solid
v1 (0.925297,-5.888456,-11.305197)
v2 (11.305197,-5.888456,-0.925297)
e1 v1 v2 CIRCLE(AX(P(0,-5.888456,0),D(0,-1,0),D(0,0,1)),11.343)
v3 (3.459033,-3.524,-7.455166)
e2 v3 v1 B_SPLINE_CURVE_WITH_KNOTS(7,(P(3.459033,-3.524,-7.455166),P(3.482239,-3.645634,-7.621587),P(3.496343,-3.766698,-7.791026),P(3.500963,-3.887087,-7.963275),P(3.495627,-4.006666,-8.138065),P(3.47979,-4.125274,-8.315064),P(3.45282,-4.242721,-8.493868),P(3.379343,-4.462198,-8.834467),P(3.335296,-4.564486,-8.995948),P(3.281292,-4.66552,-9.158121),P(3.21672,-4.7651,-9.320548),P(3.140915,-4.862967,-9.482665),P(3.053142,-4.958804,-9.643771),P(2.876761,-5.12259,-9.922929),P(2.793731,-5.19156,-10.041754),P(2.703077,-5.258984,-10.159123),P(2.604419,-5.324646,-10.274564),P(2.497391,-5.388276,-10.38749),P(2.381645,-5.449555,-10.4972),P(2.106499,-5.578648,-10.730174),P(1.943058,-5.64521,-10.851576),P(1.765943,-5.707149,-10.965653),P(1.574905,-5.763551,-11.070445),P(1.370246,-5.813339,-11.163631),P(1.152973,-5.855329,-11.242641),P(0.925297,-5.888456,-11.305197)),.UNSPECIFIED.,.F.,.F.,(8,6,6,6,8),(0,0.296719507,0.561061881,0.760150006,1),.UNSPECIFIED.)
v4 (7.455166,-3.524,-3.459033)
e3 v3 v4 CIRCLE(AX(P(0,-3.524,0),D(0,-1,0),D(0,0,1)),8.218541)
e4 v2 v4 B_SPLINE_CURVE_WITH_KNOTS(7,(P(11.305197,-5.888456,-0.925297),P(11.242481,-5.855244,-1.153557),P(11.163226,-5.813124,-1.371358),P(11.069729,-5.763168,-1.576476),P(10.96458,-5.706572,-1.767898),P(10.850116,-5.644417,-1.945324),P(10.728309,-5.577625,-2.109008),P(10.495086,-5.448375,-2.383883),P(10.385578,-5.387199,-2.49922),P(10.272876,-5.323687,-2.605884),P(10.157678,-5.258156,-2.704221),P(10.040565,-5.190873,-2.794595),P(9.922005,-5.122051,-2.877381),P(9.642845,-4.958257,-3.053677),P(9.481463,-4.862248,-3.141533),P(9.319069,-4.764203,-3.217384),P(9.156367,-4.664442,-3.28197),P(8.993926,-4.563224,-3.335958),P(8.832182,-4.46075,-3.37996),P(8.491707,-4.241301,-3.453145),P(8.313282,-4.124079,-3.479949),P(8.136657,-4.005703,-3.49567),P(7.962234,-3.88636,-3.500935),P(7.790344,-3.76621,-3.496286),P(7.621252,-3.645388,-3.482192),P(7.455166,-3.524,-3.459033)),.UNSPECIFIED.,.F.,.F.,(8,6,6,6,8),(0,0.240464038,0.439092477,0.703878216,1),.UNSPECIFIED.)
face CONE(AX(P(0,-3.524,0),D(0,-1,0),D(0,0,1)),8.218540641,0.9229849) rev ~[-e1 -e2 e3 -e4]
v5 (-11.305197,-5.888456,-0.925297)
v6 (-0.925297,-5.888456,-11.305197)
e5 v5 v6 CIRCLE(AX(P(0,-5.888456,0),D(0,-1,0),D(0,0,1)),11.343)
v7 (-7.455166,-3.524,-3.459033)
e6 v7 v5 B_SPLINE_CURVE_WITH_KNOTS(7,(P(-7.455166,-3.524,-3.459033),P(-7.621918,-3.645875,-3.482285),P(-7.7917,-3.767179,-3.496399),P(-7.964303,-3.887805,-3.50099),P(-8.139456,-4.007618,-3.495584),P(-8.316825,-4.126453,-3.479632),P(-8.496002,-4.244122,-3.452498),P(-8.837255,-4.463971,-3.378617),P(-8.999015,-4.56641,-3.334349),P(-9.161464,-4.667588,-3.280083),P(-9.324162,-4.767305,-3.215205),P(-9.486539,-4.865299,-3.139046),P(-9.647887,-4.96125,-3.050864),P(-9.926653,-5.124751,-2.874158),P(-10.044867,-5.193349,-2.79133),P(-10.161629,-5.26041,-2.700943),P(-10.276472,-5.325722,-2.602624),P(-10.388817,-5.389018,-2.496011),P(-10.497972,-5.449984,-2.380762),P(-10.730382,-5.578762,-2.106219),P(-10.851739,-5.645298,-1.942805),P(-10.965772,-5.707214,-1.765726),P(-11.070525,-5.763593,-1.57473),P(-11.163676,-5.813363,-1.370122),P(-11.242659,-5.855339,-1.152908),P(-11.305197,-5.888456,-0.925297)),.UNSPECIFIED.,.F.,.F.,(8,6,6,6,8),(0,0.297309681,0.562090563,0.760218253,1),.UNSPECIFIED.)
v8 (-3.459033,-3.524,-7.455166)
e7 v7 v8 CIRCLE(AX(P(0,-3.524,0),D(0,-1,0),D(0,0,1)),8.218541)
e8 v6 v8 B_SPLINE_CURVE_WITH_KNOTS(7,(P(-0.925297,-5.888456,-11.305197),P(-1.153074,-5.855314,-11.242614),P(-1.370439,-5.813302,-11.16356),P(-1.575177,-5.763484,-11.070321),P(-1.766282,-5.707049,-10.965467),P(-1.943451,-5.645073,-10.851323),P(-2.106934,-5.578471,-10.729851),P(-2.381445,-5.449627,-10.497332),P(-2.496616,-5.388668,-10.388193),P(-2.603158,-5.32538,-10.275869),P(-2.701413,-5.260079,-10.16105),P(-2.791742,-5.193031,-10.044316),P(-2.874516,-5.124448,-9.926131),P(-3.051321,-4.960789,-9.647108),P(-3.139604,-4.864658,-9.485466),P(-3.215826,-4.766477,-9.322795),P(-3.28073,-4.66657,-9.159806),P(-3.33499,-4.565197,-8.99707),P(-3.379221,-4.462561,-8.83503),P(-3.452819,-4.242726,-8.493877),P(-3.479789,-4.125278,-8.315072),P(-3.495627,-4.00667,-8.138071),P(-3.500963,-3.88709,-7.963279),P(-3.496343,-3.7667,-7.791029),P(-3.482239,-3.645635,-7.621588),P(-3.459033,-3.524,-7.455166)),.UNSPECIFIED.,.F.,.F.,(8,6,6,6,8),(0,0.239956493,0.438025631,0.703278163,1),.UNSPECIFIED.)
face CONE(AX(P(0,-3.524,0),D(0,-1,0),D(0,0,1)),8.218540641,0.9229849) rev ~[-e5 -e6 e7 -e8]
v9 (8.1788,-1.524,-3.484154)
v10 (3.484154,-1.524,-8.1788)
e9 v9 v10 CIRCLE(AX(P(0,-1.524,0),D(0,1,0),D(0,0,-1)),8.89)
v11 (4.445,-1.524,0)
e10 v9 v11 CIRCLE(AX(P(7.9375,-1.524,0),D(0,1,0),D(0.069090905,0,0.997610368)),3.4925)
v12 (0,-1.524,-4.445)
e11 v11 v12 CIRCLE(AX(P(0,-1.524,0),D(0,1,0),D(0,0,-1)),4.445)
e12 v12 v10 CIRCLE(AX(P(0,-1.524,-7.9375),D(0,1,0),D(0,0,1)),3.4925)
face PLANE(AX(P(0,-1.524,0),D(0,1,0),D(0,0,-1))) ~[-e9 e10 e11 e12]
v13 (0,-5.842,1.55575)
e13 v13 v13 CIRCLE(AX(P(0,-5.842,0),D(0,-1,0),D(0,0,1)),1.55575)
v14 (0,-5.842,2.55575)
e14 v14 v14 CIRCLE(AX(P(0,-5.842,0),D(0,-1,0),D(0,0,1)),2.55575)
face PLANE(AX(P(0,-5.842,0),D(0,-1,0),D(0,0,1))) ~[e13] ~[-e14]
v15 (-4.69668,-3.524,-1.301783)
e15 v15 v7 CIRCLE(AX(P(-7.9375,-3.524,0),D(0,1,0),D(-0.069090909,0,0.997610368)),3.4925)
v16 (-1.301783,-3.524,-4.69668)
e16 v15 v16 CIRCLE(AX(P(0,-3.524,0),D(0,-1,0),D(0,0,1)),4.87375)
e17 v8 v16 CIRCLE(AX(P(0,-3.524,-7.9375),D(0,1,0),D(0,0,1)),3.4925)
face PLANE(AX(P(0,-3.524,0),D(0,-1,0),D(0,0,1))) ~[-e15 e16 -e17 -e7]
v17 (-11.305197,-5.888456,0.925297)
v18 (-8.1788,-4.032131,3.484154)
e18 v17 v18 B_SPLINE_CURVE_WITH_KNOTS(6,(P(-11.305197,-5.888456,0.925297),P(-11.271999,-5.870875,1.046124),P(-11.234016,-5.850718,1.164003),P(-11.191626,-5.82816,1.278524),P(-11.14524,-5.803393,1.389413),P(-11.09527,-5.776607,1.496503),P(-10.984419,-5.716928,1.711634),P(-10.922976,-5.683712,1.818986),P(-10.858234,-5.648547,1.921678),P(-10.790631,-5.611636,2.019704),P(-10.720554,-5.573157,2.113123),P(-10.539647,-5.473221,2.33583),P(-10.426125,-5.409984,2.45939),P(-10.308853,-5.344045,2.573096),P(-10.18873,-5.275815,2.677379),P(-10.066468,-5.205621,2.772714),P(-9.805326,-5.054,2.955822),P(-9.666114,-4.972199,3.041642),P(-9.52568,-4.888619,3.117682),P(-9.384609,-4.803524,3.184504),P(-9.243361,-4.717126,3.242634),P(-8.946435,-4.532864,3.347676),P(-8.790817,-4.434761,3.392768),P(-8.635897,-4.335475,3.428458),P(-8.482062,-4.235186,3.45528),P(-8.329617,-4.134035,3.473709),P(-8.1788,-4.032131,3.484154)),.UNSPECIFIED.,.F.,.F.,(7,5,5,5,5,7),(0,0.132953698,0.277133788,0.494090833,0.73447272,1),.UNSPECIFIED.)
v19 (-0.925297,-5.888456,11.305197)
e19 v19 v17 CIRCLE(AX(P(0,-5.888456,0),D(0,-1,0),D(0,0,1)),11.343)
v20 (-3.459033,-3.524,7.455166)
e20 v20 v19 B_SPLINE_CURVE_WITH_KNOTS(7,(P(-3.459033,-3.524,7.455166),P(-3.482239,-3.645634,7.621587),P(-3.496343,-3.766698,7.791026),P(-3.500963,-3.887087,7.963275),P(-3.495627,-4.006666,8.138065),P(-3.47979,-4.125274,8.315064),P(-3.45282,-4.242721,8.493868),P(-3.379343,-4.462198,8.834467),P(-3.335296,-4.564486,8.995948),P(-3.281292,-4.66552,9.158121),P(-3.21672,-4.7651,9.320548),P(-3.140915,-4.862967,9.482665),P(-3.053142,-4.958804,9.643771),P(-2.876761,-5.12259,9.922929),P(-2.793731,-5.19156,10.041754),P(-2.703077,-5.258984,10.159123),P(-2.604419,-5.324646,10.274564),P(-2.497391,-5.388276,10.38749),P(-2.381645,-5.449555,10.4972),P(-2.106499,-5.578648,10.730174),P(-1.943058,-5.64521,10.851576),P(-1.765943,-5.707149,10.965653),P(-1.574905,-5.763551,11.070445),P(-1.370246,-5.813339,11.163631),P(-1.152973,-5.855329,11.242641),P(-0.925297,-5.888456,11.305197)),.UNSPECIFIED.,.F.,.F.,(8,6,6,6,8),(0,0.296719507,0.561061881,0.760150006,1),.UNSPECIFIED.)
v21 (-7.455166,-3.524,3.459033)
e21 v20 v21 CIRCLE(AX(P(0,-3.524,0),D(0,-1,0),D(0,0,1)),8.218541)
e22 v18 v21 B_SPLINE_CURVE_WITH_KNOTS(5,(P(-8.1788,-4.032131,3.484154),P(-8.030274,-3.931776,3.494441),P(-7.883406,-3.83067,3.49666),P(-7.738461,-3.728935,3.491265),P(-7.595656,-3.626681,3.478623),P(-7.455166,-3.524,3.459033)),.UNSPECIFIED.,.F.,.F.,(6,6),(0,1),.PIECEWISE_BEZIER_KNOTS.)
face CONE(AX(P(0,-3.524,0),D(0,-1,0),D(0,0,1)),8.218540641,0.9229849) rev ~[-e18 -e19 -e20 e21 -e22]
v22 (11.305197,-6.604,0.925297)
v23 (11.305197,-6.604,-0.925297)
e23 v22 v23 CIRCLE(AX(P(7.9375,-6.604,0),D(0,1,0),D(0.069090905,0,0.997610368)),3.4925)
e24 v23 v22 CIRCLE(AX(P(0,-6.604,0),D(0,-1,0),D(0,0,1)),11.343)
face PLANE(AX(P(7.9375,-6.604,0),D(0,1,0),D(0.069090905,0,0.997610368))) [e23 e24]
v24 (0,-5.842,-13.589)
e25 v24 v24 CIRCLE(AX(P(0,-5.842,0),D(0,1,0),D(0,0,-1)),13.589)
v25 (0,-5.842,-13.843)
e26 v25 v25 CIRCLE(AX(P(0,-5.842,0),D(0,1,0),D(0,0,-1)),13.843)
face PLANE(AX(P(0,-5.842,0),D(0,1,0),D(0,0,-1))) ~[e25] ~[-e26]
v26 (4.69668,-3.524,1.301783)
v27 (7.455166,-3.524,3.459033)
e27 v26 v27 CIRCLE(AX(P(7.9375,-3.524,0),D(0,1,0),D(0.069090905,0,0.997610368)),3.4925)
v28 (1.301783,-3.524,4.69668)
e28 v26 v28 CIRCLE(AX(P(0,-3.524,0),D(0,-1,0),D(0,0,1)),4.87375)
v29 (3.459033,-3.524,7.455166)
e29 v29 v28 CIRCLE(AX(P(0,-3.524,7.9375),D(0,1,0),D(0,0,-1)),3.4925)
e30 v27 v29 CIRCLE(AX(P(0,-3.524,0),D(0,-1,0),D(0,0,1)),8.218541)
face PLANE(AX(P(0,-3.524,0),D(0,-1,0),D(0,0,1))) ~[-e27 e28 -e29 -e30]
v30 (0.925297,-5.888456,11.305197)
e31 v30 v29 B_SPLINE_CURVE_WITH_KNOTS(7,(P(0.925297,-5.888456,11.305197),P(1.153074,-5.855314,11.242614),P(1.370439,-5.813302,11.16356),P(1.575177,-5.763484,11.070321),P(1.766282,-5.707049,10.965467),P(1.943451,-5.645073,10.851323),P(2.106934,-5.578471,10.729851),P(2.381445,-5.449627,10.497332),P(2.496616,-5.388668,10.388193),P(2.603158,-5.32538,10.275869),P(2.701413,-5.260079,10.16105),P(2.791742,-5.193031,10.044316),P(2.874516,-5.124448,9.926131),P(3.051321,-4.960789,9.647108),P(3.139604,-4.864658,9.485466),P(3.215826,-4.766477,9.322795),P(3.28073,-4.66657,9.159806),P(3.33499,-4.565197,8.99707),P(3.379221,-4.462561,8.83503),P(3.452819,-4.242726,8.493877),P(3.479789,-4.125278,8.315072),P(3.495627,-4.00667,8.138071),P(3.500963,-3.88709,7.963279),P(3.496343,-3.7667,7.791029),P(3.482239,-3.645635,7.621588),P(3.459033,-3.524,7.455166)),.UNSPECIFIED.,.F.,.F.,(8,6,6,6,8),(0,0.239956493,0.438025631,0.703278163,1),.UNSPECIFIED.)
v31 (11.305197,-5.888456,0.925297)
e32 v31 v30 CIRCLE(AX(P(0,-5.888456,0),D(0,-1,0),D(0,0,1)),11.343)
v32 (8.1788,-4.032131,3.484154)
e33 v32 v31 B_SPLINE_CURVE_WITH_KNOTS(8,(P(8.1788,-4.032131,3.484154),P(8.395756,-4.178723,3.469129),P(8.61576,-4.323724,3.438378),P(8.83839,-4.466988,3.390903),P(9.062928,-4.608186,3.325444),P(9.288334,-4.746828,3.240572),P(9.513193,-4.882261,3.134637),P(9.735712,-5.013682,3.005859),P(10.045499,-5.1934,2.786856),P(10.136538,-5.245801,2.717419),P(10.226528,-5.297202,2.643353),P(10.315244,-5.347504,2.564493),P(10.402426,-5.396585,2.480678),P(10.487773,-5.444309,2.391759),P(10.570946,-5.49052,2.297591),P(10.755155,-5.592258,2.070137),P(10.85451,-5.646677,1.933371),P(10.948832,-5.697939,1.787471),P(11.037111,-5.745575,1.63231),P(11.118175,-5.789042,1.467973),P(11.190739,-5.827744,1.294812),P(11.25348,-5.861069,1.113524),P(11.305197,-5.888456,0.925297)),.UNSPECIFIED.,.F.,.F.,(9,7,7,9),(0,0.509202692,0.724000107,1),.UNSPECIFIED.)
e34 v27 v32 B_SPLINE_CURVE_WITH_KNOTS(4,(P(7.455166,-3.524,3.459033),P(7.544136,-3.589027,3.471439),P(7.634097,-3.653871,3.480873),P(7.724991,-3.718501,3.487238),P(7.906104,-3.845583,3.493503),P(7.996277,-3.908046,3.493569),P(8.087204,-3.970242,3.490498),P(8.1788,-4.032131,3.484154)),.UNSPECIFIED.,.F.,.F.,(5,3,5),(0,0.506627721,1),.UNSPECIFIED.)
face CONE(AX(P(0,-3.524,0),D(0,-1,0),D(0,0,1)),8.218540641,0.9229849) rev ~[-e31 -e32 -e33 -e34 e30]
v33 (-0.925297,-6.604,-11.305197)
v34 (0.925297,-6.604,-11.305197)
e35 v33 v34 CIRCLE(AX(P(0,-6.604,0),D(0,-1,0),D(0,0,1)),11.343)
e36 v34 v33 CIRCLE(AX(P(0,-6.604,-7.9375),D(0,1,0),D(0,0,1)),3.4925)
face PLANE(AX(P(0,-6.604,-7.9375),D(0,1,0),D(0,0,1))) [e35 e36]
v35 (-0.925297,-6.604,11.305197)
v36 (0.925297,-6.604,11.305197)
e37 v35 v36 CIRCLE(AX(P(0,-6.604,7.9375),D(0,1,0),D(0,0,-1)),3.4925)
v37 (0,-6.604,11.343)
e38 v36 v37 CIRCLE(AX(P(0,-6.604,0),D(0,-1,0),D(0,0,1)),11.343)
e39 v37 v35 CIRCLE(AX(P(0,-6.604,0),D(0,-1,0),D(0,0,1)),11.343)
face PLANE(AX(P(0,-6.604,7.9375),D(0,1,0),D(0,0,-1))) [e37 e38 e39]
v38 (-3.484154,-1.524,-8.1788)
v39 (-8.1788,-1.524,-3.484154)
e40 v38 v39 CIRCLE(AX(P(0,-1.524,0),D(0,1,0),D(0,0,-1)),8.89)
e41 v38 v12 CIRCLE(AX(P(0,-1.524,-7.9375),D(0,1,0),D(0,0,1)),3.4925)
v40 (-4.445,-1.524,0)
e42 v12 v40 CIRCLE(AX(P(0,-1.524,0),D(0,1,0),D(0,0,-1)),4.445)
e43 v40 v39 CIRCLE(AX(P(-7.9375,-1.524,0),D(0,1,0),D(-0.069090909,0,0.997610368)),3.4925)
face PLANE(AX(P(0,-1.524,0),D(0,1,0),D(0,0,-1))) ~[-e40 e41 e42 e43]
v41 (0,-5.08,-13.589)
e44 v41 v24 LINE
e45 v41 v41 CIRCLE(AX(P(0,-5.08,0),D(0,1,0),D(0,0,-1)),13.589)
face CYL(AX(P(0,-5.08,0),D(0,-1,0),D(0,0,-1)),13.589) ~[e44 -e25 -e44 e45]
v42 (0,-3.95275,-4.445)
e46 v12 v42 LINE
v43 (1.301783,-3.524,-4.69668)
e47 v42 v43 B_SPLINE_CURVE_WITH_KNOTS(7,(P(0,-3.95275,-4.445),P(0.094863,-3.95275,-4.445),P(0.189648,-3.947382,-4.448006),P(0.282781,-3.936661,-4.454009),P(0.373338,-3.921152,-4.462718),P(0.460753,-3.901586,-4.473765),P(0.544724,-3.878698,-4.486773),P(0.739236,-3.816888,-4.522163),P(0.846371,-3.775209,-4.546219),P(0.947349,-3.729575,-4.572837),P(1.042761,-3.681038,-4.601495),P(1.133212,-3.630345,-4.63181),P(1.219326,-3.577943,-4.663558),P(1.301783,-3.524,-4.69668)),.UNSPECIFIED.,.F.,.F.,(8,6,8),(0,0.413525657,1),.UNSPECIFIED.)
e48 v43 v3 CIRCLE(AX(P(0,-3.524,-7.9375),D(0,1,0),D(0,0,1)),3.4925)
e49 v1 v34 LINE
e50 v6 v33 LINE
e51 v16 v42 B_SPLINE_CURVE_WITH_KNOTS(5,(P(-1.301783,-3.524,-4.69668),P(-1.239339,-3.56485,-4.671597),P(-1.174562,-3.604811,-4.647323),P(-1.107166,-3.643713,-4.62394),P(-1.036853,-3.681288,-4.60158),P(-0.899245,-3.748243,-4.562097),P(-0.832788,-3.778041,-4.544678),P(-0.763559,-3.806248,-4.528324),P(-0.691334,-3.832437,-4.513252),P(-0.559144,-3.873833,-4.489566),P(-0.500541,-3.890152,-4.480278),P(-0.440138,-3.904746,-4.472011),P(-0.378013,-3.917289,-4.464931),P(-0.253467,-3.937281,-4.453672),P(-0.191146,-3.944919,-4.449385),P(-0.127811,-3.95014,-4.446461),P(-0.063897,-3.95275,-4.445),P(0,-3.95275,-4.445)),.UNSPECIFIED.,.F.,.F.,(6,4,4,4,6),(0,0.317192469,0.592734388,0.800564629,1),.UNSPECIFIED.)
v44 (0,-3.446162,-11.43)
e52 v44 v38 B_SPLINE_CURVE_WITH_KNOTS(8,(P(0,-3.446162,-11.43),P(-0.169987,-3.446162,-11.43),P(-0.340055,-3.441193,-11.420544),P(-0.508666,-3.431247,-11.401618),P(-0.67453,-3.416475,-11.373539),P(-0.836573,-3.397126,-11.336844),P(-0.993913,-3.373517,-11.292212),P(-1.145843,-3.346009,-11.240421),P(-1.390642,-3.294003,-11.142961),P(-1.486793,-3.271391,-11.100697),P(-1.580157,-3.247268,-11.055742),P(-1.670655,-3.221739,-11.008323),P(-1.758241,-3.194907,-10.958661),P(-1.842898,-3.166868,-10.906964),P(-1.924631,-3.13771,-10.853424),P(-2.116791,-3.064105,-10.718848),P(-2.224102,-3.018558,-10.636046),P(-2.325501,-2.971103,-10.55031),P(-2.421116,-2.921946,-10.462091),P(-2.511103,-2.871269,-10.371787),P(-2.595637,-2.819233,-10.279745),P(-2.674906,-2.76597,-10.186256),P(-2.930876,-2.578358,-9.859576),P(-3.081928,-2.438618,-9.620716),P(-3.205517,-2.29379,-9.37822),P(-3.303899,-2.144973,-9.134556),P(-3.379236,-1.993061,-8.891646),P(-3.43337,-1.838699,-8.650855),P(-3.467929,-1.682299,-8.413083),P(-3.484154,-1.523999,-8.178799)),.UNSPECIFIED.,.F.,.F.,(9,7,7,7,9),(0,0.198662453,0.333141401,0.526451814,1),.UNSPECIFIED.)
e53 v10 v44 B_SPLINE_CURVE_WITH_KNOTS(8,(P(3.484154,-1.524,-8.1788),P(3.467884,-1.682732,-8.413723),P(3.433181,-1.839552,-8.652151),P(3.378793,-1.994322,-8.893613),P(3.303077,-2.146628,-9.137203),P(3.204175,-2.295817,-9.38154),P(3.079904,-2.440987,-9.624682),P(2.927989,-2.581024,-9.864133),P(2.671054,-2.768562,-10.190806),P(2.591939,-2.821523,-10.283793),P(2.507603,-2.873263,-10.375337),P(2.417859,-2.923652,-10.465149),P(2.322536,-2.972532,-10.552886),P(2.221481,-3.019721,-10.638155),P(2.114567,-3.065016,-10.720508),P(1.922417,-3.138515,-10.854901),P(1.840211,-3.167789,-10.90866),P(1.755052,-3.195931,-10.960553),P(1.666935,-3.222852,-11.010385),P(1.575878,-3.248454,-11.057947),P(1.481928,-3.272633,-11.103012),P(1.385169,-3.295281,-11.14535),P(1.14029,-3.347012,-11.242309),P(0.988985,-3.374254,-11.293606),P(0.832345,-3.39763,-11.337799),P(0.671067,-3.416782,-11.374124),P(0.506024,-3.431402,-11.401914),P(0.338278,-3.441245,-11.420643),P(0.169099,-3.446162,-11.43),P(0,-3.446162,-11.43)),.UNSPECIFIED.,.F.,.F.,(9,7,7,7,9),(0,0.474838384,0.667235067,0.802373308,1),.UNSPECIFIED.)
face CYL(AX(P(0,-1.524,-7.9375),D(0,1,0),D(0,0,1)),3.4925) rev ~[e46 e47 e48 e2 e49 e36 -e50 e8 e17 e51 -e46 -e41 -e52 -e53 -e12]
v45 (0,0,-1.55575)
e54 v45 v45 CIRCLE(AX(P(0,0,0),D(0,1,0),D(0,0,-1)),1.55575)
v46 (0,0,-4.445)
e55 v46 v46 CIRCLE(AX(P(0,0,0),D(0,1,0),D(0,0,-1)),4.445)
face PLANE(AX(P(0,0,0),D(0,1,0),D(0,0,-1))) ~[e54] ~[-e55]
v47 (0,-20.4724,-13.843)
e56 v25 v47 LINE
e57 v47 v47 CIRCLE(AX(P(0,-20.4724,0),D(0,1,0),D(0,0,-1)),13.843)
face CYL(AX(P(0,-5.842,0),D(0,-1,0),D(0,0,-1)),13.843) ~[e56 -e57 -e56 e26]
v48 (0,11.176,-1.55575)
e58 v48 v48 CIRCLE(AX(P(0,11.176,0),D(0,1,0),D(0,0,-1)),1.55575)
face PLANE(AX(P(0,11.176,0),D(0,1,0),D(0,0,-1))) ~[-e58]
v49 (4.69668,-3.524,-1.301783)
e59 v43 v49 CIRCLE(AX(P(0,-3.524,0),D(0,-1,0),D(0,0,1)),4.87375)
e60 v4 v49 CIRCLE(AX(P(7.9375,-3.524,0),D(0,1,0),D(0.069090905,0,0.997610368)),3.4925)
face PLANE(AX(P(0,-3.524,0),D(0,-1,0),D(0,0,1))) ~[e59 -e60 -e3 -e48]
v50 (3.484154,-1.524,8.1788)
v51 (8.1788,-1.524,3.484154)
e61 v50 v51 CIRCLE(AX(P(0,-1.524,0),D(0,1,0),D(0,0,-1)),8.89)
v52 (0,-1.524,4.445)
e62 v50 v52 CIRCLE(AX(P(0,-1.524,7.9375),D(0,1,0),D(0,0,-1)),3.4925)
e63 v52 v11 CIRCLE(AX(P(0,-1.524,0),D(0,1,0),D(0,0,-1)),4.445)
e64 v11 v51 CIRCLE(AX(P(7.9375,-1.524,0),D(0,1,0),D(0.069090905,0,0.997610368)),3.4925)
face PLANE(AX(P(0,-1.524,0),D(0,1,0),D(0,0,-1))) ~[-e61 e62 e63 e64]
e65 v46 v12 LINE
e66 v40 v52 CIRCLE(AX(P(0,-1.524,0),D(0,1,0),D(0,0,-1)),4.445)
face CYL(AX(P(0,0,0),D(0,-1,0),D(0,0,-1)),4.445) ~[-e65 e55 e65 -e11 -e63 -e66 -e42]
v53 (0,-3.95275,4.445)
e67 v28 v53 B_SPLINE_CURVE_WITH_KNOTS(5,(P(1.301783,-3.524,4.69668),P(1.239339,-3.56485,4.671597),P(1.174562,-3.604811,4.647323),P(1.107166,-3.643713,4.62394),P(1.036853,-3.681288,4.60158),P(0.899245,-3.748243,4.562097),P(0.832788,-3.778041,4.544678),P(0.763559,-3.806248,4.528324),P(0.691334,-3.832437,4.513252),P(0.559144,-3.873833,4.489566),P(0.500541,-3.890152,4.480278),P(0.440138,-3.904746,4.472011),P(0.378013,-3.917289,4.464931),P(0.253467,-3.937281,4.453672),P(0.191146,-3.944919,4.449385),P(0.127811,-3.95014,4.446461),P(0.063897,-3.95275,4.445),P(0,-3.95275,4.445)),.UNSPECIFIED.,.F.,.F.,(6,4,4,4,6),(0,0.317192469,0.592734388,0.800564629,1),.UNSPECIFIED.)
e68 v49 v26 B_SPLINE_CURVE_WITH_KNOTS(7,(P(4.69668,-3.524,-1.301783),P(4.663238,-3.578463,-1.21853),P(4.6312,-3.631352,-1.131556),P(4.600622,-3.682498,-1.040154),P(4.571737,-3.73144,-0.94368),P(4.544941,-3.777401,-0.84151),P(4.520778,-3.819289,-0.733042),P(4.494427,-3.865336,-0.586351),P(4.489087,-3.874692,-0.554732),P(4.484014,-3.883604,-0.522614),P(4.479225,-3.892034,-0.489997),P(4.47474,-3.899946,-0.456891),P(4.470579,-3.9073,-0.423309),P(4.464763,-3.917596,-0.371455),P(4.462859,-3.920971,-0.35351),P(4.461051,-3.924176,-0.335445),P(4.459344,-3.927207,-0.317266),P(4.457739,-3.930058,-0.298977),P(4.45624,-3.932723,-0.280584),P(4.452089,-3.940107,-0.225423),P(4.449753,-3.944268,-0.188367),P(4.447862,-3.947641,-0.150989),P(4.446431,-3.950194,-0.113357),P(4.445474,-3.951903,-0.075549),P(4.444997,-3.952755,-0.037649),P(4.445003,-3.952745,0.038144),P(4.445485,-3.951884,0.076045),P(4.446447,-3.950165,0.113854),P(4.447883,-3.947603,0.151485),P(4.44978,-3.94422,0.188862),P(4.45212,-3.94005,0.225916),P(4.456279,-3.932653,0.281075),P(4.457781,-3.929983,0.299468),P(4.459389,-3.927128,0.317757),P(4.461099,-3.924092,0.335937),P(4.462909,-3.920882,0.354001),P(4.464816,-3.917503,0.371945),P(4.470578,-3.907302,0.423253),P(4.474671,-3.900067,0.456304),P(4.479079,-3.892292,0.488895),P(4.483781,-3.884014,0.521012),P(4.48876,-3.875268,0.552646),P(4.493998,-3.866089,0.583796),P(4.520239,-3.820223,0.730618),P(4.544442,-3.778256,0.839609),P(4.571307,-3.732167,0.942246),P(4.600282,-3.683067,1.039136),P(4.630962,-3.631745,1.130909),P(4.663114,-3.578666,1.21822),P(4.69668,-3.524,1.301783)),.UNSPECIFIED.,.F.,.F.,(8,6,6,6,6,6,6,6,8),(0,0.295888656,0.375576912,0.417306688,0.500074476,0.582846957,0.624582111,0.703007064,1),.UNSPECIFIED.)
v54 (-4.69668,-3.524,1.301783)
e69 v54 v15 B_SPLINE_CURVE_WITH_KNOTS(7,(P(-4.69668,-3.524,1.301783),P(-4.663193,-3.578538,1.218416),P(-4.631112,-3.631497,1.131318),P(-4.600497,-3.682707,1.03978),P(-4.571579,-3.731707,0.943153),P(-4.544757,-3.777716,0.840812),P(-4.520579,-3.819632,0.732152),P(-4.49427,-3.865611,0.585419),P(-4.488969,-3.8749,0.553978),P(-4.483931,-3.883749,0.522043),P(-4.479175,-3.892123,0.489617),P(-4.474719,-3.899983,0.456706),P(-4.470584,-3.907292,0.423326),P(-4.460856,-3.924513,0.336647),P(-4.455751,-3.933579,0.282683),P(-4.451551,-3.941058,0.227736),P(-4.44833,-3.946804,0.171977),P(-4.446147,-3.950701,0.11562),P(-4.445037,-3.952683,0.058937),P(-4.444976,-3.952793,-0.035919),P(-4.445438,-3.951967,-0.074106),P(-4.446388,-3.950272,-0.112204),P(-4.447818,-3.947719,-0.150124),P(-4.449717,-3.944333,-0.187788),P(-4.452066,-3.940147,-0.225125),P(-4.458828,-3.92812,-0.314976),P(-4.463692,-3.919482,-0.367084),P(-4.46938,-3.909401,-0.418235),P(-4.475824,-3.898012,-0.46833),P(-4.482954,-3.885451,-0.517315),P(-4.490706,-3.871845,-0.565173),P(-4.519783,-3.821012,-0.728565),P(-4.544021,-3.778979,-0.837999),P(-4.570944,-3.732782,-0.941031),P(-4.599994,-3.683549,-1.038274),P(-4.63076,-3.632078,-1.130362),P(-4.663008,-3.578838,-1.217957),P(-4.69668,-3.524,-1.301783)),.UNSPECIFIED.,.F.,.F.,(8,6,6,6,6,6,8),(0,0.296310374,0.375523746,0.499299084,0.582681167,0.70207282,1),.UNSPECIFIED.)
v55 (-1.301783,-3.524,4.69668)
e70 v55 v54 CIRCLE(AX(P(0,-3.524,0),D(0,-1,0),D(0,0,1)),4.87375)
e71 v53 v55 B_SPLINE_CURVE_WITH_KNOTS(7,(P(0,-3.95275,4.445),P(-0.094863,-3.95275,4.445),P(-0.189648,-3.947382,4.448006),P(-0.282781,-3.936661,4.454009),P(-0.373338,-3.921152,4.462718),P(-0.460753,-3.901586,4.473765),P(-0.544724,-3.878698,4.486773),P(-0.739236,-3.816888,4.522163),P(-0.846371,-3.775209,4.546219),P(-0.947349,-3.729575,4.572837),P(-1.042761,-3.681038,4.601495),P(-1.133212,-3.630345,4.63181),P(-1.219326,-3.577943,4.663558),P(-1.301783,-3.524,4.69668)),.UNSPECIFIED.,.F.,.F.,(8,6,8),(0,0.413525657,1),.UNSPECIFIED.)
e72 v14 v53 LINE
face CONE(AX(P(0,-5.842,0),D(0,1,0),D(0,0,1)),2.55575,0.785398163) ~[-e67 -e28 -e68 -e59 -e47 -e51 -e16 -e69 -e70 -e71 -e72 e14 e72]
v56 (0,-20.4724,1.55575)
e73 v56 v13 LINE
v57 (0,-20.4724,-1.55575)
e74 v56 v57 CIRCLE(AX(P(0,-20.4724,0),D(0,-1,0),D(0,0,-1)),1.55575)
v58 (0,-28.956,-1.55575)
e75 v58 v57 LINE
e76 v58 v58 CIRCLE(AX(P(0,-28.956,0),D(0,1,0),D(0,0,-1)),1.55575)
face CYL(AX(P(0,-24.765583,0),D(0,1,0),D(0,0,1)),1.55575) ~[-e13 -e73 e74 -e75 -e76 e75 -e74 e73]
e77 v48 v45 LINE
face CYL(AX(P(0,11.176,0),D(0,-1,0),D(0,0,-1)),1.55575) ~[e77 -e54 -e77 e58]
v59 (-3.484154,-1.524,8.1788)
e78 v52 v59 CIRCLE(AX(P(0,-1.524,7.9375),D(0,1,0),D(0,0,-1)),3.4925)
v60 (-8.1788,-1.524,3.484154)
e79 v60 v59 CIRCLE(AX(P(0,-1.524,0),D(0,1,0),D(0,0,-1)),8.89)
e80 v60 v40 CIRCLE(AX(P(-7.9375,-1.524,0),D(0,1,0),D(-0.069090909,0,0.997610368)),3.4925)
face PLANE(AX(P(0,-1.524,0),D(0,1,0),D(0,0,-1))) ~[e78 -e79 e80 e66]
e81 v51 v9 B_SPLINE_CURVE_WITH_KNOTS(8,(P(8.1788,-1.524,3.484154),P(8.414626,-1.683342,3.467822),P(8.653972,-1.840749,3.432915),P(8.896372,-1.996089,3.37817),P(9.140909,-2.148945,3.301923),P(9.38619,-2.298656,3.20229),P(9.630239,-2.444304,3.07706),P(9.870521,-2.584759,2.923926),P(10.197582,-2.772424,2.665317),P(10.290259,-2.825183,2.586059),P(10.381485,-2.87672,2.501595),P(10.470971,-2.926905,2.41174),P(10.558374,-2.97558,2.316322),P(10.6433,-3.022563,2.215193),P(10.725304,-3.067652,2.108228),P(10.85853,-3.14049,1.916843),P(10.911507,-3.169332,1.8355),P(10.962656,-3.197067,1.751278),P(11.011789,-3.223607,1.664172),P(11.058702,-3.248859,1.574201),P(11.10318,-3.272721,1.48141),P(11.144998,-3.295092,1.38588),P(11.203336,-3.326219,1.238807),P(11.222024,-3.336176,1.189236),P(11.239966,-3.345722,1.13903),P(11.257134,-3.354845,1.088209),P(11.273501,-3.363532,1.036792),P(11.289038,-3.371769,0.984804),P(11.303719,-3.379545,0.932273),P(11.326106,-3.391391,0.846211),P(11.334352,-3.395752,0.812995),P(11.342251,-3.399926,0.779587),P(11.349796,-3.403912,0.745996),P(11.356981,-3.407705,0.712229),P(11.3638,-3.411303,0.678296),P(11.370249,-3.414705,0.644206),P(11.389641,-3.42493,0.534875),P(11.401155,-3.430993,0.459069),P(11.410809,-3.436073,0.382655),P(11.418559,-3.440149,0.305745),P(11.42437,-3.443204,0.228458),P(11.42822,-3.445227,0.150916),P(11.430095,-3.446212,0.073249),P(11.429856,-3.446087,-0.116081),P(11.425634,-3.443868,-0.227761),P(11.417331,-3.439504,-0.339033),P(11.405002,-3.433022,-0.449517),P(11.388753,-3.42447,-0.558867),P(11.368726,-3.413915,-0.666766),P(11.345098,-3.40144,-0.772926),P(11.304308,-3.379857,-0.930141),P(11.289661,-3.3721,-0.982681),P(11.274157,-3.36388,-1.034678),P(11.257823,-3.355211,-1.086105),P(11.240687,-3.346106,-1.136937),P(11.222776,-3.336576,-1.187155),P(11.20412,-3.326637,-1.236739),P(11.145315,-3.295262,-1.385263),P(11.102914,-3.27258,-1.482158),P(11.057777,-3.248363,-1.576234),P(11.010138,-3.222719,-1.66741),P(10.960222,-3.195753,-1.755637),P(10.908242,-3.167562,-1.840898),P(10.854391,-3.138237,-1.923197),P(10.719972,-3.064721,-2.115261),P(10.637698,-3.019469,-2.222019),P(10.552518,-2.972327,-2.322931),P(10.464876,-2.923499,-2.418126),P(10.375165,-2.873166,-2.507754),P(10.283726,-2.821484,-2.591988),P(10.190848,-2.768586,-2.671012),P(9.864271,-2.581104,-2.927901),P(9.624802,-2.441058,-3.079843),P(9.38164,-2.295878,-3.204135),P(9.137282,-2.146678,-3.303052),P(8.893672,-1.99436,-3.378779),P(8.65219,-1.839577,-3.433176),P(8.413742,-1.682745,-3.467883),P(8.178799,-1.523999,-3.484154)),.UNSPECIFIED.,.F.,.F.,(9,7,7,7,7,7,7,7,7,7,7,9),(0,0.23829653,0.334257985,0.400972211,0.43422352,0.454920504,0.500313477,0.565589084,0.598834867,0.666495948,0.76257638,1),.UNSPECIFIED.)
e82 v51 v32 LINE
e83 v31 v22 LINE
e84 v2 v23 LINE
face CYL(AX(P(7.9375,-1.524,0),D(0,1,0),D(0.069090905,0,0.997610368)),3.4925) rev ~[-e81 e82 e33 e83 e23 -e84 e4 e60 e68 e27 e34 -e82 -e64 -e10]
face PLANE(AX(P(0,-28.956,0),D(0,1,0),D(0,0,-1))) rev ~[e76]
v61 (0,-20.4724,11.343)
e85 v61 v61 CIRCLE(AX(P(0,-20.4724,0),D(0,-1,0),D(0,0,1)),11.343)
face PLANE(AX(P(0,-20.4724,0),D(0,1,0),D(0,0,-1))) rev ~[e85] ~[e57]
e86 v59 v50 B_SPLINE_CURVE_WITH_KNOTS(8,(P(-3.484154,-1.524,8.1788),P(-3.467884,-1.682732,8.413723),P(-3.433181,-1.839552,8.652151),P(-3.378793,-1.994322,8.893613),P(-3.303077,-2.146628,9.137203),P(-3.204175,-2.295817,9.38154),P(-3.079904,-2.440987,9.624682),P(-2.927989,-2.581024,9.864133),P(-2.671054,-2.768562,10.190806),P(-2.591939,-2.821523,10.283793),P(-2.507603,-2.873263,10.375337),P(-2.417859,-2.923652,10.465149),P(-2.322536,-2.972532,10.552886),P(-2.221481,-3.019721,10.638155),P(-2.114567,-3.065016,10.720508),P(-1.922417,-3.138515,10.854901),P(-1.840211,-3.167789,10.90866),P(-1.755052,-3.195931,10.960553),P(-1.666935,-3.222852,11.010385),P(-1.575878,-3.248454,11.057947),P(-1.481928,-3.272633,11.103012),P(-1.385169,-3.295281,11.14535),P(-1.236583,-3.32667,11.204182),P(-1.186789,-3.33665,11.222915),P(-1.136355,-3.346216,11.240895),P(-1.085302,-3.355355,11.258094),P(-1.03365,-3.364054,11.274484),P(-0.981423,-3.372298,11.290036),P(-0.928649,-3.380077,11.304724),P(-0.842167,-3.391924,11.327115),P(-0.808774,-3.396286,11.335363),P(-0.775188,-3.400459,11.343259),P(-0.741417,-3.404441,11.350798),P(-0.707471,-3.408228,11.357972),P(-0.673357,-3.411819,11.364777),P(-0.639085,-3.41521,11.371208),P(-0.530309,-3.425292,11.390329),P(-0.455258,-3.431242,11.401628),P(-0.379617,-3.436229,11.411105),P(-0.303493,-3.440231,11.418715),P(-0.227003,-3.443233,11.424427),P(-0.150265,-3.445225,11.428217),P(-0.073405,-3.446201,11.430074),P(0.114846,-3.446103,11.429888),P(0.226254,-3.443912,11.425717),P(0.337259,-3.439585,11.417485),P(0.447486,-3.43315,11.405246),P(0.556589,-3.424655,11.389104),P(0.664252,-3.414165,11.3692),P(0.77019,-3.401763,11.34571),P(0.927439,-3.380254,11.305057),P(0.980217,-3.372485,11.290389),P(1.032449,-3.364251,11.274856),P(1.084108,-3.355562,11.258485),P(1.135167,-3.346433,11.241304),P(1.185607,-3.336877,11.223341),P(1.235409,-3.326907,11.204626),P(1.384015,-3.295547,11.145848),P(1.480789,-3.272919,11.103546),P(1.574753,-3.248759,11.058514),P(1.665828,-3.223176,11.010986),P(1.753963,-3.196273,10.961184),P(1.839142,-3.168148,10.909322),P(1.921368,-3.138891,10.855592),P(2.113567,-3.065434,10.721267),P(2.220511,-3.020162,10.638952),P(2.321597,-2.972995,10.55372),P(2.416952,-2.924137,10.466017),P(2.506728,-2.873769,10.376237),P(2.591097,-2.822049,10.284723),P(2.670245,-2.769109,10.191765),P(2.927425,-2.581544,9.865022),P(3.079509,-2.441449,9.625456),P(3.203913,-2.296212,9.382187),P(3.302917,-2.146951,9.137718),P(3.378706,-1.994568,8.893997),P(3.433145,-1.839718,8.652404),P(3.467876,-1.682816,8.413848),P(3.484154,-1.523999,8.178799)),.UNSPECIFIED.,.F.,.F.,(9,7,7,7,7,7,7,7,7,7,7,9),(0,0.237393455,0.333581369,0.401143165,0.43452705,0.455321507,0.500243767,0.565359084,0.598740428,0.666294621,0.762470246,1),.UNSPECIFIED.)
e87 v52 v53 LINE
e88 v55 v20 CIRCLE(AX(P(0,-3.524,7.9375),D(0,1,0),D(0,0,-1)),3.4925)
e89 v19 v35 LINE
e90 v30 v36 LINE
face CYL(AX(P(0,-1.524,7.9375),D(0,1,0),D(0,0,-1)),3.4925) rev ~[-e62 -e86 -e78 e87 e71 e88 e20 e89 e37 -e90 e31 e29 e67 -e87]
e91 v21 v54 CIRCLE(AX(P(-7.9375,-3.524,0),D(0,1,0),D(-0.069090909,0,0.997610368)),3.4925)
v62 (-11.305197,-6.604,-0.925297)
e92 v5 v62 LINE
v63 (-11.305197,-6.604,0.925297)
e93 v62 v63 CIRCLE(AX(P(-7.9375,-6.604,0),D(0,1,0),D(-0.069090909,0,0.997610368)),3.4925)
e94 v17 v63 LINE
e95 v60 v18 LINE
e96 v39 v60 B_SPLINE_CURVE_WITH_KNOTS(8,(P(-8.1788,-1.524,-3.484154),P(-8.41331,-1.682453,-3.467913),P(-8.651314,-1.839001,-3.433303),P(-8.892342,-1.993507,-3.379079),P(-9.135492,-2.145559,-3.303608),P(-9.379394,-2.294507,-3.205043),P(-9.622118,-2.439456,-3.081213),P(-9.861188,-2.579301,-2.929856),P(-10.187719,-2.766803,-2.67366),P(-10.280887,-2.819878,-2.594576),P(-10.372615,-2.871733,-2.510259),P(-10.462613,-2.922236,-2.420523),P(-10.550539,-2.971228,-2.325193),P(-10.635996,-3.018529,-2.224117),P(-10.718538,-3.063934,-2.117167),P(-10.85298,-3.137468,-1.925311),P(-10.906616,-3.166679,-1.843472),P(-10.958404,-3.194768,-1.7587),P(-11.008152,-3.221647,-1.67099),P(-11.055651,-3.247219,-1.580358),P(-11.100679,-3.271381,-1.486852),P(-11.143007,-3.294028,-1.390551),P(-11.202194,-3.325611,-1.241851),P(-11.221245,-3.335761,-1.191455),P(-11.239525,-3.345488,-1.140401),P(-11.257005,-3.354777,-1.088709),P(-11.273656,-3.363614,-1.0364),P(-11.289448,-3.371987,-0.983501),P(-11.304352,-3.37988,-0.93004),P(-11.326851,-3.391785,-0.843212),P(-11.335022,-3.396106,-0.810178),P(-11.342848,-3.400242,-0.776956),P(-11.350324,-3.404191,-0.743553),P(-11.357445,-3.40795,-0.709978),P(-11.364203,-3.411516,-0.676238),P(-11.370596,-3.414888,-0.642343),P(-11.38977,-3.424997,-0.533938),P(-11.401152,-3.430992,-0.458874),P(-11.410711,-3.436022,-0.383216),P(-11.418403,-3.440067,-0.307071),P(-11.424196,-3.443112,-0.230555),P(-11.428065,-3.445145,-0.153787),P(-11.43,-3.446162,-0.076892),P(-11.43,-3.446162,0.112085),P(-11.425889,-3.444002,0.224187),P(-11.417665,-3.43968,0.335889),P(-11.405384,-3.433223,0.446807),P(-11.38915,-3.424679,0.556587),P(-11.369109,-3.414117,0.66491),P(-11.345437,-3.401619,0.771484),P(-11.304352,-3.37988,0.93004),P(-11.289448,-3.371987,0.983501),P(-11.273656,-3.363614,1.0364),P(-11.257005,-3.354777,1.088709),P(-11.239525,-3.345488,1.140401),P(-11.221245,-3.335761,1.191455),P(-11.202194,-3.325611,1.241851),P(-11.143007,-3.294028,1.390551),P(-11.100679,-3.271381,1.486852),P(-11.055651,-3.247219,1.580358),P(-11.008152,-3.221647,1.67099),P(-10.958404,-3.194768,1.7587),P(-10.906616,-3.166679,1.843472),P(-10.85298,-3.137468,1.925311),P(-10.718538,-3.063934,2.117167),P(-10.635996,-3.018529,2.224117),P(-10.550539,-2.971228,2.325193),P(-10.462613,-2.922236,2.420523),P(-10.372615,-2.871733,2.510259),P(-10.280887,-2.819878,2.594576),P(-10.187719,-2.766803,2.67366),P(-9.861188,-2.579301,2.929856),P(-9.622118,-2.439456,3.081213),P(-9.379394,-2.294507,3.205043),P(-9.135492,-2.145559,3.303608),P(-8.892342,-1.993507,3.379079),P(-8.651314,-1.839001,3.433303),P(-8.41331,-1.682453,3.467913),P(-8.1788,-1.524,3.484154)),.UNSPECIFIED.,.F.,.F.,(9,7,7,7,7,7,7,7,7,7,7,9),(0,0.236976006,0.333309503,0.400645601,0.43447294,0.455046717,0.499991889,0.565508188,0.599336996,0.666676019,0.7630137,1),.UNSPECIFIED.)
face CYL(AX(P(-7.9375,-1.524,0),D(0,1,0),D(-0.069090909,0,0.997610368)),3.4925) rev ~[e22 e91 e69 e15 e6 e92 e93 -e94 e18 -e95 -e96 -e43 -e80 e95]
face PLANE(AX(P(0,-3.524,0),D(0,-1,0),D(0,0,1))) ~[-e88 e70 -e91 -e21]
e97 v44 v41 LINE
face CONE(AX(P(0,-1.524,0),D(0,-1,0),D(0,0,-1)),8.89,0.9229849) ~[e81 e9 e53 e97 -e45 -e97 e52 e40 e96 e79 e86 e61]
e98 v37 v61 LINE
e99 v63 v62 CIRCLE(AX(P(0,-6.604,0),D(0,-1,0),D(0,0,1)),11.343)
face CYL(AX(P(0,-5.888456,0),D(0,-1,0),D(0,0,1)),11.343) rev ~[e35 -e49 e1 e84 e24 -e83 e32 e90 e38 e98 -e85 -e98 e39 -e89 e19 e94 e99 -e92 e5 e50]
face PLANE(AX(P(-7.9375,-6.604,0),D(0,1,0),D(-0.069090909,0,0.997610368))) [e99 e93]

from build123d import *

# Parameters (mm, degrees)
SKETCH3_R          = 13.843
SKETCH3_R_2        = 1.55575
CUT_EXTRUDE2_DEPTH = 38.213955992
SKETCH2_R          = 3.4925
CUT_EXTRUDE1_DEPTH = 5.08


with BuildPart() as part:
    # Sketch1 → Revolve1 (revolve)
    with BuildSketch(Plane.XY, mode=Mode.PRIVATE) as revolve1_sk:
        Polygon((0, 11.176), (1.55575, 11.176), (1.55575, 0), (4.445, 0), (4.445, -1.524), (8.89, -1.524), (13.589, -5.08), (13.589, -5.842), (13.843, -5.842), (13.843, -20.4724), (13.589, -20.4724), (13.589, -23.0124), (12.7, -26.67), (3.81, -26.67), (3.81, -26.924), (1.55575, -26.924), (1.55575, -28.956), (0, -28.956), align=None)
    revolve(revolve1_sk.sketch.rotate(Axis((0, -28.956, 0), (0, 1, 0)), 90), axis=Axis((0, -28.956, 0), (0, 1, 0)))

    # Sketch3 → Cut-Extrude2 (cut, through all)
    with BuildSketch(Plane.XZ.offset(20.4724)):
        with Locations(Location((0, 0, 0), (0, 0, 270))):
            Circle(SKETCH3_R)
        with Locations(Location((0, 0, 0), (0, 0, 270))):
            Circle(SKETCH3_R_2, mode=Mode.SUBTRACT)
    extrude(amount=CUT_EXTRUDE2_DEPTH, mode=Mode.SUBTRACT)

    # Sketch5 → Cut-Revolve1 (revolve, cut)
    with BuildSketch(Plane.XY, mode=Mode.PRIVATE) as cut_revolve1_sk:
        Polygon((11.343, -5.888455731), (11.343, -24.765583443), (1.55575, -24.765583443), (1.55575, -5.842), (2.55575, -5.842), (4.87375, -3.524), (8.218540641, -3.524), align=None)
    revolve(cut_revolve1_sk.sketch.rotate(Axis((0, 11.176, 0), (0, -1, 0)), 90), axis=Axis((0, 11.176, 0), (0, -1, 0)), mode=Mode.SUBTRACT)

    # Sketch2 → Cut-Extrude1 (cut)
    with BuildSketch(Plane(origin=(0, -1.524, 0), x_dir=(1, 0, 0), z_dir=(0, 1, 0))):
        with Locations(Location((0, 7.9375, 0), (0, 0, 270))):
            Circle(SKETCH2_R)
        with Locations(Location((7.9375, 0, 0), (0, 0, 273.961773505))):
            Circle(SKETCH2_R)
        with Locations(Location((0, -7.9375, 0), (0, 0, 90))):
            Circle(SKETCH2_R)
        with Locations(Location((-7.9375, 0, 0), (0, 0, 266.038226276))):
            Circle(SKETCH2_R)
    extrude(amount=-CUT_EXTRUDE1_DEPTH, mode=Mode.SUBTRACT)


solid = part.part
